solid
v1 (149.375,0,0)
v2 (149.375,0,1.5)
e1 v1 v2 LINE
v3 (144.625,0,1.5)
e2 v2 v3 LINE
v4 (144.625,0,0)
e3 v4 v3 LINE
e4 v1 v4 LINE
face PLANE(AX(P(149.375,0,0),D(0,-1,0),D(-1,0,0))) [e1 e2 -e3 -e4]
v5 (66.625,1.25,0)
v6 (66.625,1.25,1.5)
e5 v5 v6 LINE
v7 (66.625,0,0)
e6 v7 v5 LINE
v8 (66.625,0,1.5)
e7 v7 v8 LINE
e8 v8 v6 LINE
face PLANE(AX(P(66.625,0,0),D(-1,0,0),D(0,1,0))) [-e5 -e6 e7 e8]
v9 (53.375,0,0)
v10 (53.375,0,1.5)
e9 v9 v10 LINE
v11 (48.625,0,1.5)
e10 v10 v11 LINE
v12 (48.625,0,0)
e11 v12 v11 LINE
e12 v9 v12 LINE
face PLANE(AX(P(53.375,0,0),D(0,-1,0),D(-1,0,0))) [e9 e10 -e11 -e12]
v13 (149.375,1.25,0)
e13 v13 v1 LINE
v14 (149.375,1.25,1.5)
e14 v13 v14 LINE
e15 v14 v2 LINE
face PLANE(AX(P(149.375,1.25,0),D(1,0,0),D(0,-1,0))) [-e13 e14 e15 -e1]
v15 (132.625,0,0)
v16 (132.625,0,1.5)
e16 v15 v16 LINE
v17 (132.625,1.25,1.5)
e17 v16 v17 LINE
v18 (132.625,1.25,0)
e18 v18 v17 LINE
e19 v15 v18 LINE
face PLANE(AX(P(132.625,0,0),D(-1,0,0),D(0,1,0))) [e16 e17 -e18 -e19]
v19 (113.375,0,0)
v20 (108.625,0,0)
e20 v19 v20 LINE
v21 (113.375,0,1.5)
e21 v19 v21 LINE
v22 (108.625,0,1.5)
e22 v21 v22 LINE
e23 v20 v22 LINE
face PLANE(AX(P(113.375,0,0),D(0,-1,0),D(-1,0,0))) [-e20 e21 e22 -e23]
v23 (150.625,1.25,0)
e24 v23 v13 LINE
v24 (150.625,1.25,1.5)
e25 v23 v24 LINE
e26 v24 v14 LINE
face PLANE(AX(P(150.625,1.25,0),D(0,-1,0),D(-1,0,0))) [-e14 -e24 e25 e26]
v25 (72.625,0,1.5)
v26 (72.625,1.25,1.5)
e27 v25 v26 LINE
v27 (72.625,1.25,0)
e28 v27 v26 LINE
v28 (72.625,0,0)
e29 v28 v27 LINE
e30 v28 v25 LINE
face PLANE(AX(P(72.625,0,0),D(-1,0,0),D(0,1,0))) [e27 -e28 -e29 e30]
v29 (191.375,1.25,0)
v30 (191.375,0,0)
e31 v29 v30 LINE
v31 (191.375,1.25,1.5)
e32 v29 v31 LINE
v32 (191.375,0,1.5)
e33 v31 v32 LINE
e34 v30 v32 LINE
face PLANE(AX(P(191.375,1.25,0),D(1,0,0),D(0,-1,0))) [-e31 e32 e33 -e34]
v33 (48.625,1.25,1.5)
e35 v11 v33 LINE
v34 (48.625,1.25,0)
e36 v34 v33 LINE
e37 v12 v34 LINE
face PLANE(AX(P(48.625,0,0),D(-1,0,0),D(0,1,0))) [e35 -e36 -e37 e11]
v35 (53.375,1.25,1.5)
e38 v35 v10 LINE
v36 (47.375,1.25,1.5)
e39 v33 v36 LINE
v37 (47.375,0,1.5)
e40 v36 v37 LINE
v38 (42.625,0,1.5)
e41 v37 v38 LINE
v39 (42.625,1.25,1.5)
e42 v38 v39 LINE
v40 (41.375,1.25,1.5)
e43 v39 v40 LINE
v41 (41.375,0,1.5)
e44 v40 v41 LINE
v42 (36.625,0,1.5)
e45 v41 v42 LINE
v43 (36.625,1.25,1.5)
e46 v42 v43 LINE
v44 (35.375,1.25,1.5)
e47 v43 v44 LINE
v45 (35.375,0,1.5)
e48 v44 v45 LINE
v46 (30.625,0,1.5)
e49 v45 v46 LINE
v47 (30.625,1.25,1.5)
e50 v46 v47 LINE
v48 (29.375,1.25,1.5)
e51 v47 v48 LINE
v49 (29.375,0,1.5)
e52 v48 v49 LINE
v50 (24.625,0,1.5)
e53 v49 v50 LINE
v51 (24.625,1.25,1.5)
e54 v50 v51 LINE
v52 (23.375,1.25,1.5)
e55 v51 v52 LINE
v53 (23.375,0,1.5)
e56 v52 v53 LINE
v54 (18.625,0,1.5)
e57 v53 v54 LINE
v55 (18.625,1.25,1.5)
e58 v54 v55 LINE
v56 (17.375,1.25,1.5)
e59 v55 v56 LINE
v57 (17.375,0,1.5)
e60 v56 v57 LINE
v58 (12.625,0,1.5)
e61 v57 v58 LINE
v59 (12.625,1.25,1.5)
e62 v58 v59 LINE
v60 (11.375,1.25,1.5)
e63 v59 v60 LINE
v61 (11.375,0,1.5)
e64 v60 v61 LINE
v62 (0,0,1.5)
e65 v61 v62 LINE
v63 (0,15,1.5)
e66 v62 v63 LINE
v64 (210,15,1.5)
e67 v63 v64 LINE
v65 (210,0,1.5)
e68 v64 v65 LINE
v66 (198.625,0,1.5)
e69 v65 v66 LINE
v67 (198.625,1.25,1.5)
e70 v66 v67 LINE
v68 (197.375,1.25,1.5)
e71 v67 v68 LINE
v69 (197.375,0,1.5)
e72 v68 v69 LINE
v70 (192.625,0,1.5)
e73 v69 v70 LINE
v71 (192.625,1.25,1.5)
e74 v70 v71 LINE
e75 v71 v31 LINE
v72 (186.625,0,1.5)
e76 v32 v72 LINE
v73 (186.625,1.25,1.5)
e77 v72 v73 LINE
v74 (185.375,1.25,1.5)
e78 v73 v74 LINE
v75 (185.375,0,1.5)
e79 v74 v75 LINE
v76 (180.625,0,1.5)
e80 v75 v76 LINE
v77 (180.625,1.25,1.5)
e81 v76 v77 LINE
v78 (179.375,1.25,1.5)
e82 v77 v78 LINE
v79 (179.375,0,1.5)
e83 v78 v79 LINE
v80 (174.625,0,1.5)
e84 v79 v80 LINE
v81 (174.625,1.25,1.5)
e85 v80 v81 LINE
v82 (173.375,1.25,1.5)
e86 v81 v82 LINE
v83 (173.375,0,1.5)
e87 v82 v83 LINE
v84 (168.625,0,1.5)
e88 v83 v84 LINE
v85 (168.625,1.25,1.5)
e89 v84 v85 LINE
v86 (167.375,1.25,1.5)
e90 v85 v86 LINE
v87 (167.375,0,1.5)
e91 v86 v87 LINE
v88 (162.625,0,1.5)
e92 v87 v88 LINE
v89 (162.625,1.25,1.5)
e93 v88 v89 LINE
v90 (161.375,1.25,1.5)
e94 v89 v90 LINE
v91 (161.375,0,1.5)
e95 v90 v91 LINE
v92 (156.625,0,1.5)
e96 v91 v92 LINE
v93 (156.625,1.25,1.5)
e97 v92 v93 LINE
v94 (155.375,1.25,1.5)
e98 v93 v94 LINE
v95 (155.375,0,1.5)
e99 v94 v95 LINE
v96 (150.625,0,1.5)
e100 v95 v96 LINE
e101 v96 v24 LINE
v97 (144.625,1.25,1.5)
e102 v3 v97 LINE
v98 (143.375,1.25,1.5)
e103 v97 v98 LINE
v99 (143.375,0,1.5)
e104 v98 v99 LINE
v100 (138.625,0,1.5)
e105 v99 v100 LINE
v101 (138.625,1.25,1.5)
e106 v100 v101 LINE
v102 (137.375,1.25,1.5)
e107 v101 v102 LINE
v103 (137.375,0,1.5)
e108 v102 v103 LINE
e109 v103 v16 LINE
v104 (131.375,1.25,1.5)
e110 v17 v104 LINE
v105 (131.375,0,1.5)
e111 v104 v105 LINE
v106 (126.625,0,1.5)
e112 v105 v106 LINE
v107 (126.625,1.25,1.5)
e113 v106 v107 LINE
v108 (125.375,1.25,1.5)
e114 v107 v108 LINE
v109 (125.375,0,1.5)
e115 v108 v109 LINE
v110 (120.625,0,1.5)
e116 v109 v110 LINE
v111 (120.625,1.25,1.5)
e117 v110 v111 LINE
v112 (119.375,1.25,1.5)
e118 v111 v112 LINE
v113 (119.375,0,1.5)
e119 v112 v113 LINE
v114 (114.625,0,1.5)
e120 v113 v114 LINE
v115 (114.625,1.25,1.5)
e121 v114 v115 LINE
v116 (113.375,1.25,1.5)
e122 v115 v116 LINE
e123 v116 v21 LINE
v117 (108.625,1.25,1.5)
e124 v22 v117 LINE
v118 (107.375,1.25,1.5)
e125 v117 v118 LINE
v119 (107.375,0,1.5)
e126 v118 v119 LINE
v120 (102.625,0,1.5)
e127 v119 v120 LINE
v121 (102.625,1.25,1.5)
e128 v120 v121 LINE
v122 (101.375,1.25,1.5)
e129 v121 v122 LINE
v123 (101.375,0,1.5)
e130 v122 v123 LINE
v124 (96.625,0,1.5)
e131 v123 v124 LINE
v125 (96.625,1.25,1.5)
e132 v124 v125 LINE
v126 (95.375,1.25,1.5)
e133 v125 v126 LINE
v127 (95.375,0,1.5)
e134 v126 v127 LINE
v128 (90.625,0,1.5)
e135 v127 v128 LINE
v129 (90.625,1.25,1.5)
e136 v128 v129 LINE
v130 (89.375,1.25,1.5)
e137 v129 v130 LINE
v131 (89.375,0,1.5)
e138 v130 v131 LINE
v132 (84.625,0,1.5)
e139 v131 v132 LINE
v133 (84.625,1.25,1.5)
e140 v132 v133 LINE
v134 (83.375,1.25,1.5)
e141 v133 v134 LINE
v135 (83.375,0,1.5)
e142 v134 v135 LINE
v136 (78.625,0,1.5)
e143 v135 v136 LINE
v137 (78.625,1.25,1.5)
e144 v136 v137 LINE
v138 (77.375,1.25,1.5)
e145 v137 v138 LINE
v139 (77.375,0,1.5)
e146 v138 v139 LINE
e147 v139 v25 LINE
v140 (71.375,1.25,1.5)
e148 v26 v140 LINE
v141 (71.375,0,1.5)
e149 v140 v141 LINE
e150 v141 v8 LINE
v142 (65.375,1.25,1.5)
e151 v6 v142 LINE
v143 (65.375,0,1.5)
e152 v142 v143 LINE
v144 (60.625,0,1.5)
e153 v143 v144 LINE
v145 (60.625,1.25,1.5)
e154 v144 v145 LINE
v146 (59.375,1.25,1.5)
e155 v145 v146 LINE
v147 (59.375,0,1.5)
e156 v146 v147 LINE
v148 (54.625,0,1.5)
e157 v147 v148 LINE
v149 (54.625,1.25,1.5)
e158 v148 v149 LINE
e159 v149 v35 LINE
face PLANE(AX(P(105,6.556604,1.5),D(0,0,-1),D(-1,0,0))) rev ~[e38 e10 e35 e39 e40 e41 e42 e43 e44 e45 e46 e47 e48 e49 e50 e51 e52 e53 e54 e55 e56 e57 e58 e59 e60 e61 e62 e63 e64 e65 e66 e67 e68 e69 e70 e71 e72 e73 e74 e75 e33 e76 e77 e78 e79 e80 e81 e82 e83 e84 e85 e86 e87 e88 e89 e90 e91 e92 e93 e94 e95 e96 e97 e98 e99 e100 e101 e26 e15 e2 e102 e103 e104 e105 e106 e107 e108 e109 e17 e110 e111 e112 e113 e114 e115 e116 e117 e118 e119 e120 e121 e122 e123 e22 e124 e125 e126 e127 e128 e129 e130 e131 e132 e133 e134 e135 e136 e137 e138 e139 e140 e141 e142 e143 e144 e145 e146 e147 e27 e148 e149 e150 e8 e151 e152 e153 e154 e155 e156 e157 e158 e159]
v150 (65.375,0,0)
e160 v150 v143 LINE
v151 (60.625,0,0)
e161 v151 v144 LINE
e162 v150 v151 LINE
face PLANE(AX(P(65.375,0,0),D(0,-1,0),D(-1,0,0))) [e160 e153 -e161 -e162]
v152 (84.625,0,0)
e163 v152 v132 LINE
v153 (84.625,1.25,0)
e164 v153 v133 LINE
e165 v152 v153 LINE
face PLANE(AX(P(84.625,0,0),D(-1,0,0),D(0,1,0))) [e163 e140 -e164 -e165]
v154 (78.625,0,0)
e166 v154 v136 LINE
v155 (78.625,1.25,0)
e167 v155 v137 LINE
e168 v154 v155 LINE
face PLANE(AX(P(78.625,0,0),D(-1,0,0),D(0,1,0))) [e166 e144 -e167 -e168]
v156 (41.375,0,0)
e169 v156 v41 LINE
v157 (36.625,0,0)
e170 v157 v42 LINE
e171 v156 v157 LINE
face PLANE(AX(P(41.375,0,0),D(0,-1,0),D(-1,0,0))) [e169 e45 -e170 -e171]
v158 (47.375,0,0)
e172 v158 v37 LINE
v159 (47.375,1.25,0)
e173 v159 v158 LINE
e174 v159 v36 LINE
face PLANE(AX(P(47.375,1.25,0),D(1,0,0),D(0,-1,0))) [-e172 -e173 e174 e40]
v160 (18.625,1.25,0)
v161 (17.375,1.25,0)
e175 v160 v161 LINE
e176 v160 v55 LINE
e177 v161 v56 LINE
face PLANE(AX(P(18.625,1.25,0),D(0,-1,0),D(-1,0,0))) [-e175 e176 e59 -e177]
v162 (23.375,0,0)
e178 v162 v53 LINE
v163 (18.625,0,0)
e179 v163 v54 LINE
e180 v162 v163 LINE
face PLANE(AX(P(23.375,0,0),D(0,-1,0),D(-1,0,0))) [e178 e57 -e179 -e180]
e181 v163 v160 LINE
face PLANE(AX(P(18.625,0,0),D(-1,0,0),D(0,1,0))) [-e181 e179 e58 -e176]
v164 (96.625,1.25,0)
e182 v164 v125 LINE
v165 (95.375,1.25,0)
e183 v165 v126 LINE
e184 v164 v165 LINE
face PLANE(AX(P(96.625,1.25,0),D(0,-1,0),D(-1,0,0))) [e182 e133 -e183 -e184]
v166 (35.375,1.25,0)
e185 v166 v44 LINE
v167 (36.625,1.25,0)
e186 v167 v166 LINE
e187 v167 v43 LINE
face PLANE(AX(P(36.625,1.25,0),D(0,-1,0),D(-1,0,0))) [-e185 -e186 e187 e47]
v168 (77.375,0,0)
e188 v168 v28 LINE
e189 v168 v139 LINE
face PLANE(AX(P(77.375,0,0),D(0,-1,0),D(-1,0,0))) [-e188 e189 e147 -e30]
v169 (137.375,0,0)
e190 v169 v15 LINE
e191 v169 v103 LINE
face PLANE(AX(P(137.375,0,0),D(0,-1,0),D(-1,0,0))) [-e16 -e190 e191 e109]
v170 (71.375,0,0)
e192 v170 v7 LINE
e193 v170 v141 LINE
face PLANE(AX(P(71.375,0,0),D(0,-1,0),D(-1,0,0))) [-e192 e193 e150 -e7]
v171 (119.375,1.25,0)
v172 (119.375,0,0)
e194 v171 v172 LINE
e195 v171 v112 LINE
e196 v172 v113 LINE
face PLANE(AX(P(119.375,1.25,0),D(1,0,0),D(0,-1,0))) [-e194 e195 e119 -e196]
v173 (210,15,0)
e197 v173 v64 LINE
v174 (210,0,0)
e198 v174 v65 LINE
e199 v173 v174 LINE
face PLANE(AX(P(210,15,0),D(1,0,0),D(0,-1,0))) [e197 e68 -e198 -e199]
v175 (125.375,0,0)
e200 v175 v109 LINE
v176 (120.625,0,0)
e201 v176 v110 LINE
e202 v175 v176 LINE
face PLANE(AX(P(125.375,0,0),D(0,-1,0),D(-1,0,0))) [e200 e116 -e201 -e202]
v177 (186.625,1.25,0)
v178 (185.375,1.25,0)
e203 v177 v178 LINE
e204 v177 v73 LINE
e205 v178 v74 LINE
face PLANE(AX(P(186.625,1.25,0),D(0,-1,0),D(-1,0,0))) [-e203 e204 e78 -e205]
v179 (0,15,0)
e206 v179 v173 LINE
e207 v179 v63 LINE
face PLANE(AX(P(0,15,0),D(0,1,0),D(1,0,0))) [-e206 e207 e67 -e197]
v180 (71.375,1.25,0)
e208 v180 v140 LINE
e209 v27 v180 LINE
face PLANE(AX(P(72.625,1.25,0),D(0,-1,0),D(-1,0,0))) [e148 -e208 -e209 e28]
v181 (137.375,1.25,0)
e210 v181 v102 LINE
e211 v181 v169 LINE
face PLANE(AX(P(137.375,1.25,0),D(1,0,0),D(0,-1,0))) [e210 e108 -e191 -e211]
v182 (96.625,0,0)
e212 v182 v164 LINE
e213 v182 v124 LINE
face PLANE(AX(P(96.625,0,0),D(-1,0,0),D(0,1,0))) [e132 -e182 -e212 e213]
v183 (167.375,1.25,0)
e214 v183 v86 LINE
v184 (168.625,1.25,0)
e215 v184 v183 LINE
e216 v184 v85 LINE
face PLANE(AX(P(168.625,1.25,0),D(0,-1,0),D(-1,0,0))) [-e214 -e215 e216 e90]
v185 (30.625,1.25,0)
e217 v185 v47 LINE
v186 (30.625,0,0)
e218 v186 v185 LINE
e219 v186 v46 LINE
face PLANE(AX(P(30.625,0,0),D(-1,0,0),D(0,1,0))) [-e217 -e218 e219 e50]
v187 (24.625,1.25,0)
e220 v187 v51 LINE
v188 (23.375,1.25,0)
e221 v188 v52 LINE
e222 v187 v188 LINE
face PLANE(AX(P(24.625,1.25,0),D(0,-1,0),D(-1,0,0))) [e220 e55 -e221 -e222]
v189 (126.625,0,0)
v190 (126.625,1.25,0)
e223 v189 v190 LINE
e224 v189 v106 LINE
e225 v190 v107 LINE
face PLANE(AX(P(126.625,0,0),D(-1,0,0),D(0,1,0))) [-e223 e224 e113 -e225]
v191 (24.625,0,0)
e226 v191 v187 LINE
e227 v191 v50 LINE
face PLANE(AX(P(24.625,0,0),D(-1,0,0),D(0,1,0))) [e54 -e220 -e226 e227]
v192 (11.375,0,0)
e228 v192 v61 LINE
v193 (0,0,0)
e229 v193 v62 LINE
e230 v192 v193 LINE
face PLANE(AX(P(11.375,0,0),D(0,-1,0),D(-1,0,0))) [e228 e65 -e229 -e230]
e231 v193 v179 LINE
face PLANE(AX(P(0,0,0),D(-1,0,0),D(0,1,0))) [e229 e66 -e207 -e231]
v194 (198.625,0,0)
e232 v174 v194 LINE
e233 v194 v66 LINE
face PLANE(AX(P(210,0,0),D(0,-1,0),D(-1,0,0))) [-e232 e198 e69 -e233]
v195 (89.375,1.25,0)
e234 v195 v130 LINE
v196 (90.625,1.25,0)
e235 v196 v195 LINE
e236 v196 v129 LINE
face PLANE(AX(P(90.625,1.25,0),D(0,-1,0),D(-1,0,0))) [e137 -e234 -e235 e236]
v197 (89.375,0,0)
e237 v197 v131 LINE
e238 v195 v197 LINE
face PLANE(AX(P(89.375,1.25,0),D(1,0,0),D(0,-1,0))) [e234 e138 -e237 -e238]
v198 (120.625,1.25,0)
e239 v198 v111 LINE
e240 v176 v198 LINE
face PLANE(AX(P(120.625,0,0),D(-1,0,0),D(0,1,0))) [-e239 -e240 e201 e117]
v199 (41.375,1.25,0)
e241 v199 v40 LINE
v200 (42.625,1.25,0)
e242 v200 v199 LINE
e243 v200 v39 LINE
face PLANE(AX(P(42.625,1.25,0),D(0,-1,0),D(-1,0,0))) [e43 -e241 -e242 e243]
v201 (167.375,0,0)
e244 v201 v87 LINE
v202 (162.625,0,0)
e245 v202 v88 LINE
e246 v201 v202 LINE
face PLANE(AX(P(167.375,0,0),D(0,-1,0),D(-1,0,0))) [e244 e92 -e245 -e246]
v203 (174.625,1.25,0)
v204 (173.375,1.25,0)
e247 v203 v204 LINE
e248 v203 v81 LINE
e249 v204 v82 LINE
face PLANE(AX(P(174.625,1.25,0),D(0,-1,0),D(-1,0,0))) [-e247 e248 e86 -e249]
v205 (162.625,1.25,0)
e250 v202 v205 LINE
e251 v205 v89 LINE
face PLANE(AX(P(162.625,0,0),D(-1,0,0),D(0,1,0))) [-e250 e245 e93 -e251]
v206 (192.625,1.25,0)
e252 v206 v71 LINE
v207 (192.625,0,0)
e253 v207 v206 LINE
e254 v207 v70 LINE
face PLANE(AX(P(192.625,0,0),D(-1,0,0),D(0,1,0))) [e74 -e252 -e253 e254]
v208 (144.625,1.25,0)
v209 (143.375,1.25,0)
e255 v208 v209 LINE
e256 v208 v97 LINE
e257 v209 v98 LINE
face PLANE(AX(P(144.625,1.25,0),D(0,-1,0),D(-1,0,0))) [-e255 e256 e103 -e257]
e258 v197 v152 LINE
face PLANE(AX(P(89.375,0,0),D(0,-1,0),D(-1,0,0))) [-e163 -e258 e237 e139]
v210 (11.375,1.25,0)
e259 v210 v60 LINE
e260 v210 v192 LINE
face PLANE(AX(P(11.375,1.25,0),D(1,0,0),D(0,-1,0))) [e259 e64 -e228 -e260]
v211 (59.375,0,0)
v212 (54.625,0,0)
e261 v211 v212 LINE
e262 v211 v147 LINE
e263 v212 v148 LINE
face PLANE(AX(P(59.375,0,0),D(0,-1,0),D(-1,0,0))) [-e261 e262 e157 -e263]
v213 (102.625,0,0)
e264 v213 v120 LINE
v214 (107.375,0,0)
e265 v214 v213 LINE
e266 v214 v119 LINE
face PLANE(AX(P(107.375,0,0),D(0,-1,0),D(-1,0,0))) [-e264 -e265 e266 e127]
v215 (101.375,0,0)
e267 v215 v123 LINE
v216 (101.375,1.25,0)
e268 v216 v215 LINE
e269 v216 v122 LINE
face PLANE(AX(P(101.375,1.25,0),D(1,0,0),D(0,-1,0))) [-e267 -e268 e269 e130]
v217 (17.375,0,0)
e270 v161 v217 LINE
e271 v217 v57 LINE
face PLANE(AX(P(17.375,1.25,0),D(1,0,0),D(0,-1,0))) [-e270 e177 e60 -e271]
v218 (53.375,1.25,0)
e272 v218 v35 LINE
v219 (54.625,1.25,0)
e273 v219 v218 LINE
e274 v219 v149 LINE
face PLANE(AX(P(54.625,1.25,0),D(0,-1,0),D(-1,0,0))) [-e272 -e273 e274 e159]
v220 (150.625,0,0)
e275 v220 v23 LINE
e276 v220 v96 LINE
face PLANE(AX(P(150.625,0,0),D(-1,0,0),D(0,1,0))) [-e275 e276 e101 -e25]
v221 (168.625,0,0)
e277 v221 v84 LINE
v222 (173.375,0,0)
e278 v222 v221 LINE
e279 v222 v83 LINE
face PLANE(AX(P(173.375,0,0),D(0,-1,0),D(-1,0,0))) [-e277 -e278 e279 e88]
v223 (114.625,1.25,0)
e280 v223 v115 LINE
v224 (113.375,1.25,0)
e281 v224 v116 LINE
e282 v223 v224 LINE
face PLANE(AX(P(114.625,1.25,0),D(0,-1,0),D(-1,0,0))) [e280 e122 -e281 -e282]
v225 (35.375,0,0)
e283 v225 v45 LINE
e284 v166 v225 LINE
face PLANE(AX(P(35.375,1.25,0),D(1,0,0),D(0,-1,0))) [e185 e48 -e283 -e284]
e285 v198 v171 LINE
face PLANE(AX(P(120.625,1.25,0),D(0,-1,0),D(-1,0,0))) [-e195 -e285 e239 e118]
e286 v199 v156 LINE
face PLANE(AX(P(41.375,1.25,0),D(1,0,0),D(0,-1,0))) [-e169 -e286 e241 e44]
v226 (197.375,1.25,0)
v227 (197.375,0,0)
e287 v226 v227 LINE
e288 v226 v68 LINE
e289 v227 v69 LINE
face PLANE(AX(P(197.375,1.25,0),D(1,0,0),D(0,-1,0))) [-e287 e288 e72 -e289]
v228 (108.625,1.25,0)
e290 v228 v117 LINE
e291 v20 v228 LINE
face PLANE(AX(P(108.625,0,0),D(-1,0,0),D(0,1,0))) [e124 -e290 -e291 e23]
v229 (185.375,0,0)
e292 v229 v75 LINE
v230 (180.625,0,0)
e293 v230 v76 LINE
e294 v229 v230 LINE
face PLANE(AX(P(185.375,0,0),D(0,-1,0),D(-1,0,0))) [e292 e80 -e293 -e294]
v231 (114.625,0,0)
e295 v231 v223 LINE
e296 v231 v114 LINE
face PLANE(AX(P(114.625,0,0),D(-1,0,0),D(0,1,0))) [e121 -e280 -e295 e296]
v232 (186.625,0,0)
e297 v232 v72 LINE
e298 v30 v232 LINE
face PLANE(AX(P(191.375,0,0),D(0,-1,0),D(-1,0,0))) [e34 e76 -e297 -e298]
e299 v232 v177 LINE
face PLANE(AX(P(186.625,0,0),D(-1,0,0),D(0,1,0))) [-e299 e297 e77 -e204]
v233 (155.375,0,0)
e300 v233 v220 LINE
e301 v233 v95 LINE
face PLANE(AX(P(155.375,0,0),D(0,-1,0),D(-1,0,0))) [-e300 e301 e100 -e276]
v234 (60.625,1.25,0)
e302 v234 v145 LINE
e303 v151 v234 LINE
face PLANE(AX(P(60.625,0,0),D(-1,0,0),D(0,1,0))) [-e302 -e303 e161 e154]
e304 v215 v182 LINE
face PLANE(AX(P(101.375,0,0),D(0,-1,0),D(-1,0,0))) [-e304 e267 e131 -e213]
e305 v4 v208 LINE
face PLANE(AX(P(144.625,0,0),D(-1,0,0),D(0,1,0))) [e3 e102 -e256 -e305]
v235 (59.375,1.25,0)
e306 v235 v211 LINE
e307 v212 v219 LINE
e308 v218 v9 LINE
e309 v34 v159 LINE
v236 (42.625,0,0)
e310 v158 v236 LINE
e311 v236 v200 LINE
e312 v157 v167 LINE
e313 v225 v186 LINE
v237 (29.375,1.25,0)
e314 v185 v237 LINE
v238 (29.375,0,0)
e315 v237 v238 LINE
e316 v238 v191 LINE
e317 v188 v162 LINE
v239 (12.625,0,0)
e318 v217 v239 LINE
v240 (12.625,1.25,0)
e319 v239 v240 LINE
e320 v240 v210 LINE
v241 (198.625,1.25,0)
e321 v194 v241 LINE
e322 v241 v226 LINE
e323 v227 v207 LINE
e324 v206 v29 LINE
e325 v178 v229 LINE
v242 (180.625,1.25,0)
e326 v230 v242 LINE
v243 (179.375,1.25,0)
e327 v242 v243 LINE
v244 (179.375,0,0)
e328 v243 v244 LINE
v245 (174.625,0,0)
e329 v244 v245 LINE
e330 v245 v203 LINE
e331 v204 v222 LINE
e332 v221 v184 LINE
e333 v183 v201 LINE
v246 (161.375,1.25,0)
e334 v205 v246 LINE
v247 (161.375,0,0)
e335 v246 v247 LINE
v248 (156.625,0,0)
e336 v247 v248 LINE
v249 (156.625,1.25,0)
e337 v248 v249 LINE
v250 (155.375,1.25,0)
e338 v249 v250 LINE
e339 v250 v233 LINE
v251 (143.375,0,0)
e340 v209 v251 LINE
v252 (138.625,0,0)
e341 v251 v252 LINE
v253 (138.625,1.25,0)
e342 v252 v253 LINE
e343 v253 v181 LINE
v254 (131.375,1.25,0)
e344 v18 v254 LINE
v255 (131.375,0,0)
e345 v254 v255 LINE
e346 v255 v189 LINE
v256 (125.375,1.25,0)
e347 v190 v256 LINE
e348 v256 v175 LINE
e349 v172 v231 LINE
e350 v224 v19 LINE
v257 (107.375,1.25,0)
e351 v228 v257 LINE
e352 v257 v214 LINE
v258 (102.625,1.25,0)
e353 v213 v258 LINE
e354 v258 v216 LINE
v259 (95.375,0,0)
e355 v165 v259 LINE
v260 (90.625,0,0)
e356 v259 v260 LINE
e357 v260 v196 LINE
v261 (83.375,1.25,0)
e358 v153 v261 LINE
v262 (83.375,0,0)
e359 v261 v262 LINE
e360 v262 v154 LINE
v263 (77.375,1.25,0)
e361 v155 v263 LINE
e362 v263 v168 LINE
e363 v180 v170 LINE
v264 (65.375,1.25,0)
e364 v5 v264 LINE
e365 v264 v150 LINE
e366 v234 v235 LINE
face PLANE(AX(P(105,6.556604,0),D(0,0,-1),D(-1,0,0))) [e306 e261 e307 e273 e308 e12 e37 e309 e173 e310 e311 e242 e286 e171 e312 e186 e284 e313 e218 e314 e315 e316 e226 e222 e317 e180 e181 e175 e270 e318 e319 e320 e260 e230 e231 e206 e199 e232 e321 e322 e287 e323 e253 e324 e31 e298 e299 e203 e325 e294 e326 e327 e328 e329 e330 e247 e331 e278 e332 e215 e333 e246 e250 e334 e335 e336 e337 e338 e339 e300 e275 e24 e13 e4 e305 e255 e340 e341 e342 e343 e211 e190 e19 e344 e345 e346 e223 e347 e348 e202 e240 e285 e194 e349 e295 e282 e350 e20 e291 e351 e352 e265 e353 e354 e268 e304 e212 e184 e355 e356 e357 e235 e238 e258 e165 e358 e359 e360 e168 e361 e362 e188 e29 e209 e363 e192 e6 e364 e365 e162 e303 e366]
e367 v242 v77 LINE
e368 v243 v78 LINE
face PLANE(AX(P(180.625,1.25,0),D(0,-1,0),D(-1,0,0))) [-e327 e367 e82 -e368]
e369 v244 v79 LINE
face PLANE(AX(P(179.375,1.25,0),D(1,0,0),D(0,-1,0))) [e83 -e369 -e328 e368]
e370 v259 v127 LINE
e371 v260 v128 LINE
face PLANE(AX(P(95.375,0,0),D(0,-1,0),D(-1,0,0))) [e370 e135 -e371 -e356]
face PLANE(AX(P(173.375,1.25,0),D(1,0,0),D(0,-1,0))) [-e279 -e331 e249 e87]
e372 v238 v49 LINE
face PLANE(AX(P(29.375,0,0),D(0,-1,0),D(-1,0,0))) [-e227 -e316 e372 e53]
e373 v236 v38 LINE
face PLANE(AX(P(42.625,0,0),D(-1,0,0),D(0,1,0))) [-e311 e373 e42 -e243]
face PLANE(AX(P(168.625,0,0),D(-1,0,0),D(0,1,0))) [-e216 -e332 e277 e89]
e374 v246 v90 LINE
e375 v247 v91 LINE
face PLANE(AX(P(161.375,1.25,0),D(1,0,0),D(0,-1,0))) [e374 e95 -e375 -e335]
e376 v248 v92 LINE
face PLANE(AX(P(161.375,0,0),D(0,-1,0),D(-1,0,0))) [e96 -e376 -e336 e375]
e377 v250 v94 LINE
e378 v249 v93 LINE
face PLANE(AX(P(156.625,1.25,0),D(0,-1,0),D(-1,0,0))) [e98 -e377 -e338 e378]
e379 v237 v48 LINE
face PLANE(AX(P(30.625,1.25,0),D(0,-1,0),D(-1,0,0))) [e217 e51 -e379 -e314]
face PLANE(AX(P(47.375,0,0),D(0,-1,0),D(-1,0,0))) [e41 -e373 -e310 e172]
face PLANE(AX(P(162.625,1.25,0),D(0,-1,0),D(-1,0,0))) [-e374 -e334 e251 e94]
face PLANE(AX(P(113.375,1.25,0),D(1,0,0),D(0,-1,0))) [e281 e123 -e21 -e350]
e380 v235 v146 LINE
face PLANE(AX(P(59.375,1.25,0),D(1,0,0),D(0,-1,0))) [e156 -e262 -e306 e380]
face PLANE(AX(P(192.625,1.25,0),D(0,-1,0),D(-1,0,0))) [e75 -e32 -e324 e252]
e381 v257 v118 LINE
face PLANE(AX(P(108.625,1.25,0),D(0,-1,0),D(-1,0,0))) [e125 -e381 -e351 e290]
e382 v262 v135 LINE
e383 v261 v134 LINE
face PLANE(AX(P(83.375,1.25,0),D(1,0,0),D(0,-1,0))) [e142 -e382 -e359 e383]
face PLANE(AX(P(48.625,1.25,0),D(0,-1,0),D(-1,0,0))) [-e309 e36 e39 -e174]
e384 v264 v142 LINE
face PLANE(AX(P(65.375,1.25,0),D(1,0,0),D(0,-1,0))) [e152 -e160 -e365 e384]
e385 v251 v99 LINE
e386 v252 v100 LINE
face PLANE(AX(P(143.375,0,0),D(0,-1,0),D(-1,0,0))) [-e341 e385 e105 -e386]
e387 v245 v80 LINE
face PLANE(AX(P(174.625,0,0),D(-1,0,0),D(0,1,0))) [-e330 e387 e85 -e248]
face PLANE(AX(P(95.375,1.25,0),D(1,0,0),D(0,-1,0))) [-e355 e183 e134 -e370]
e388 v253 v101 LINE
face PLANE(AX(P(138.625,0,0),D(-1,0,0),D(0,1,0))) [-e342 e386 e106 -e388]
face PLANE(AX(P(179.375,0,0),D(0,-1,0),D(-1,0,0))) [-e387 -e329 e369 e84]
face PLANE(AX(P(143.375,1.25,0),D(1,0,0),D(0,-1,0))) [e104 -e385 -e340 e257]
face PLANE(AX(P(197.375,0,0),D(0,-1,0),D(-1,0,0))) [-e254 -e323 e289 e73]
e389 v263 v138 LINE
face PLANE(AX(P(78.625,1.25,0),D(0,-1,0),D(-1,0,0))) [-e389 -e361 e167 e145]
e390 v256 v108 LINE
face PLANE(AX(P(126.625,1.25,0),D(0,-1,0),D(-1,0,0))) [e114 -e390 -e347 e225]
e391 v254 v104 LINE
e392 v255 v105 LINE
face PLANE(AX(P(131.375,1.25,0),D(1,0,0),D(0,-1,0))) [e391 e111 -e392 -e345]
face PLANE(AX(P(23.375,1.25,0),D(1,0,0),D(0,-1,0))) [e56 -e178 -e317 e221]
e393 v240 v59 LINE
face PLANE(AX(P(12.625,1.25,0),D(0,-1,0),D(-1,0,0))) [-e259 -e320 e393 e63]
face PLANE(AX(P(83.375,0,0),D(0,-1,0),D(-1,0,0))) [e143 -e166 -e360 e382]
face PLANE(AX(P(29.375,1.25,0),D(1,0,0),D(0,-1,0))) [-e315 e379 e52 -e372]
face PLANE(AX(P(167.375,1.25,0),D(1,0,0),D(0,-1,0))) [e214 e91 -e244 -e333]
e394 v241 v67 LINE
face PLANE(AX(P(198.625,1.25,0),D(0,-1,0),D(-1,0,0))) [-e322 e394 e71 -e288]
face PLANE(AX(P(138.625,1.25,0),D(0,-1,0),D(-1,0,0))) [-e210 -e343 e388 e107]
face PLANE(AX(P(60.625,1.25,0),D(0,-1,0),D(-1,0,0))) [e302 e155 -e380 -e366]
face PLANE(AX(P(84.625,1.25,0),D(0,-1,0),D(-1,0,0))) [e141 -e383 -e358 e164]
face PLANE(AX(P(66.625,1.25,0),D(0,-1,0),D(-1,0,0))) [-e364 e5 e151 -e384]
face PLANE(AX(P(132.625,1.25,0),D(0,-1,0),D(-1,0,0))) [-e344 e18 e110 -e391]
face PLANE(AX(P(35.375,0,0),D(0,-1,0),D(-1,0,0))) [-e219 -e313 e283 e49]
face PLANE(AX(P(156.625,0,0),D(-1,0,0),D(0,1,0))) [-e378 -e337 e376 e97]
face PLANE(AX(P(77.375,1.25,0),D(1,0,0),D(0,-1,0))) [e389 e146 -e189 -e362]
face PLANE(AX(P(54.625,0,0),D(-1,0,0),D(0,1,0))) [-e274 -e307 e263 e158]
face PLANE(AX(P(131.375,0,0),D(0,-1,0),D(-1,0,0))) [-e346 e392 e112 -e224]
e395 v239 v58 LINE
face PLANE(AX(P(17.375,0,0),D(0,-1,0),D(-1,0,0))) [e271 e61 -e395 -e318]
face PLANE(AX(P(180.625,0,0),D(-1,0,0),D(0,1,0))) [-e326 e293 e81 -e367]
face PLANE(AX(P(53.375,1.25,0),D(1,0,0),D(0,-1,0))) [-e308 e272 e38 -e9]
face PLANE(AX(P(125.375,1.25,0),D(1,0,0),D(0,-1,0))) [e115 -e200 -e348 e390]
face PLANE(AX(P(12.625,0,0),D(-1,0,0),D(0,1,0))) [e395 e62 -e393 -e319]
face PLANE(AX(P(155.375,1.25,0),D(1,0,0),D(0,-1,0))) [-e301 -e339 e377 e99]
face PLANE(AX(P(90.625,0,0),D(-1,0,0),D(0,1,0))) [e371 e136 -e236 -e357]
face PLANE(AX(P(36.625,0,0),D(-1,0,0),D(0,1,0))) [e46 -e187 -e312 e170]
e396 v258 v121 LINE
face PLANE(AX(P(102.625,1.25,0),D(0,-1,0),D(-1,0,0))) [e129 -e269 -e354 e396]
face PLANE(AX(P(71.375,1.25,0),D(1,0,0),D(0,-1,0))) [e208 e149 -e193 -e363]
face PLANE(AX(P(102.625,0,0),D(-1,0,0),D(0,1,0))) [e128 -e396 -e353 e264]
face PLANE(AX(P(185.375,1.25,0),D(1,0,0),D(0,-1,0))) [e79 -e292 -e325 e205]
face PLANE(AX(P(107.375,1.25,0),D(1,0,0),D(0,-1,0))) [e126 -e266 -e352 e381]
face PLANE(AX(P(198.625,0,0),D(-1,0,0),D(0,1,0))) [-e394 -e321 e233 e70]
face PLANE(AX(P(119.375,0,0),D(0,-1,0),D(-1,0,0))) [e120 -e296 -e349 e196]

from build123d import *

# Parameters (mm, degrees)
BOSS_EXTRUDE1_DEPTH = 1.5


with BuildPart() as part:
    # Sketch1 → Boss-Extrude1 (new body)
    with BuildSketch(Plane.XY):
        Polygon((0, 0), (0, 15), (210, 15), (210, 0), (198.625, 0), (198.625, 1.25), (197.375, 1.25), (197.375, 0), (192.625, 0), (192.625, 1.25), (191.375, 1.25), (191.375, 0), (186.625, 0), (186.625, 1.25), (185.375, 1.25), (185.375, 0), (180.625, 0), (180.625, 1.25), (179.375, 1.25), (179.375, 0), (174.625, 0), (174.625, 1.25), (173.375, 1.25), (173.375, 0), (168.625, 0), (168.625, 1.25), (167.375, 1.25), (167.375, 0), (162.625, 0), (162.625, 1.25), (161.375, 1.25), (161.375, 0), (156.625, 0), (156.625, 1.25), (155.375, 1.25), (155.375, 0), (150.625, 0), (150.625, 1.25), (149.375, 1.25), (149.375, 0), (144.625, 0), (144.625, 1.25), (143.375, 1.25), (143.375, 0), (138.625, 0), (138.625, 1.25), (137.375, 1.25), (137.375, 0), (132.625, 0), (132.625, 1.25), (131.375, 1.25), (131.375, 0), (126.625, 0), (126.625, 1.25), (125.375, 1.25), (125.375, 0), (120.625, 0), (120.625, 1.25), (119.375, 1.25), (119.375, 0), (114.625, 0), (114.625, 1.25), (113.375, 1.25), (113.375, 0), (108.625, 0), (108.625, 1.25), (107.375, 1.25), (107.375, 0), (102.625, 0), (102.625, 1.25), (101.375, 1.25), (101.375, 0), (96.625, 0), (96.625, 1.25), (95.375, 1.25), (95.375, 0), (90.625, 0), (90.625, 1.25), (89.375, 1.25), (89.375, 0), (84.625, 0), (84.625, 1.25), (83.375, 1.25), (83.375, 0), (78.625, 0), (78.625, 1.25), (77.375, 1.25), (77.375, 0), (72.625, 0), (72.625, 1.25), (71.375, 1.25), (71.375, 0), (66.625, 0), (66.625, 1.25), (65.375, 1.25), (65.375, 0), (60.625, 0), (60.625, 1.25), (59.375, 1.25), (59.375, 0), (54.625, 0), (54.625, 1.25), (53.375, 1.25), (53.375, 0), (48.625, 0), (48.625, 1.25), (47.375, 1.25), (47.375, 0), (42.625, 0), (42.625, 1.25), (41.375, 1.25), (41.375, 0), (36.625, 0), (36.625, 1.25), (35.375, 1.25), (35.375, 0), (30.625, 0), (30.625, 1.25), (29.375, 1.25), (29.375, 0), (24.625, 0), (24.625, 1.25), (23.375, 1.25), (23.375, 0), (18.625, 0), (18.625, 1.25), (17.375, 1.25), (17.375, 0), (12.625, 0), (12.625, 1.25), (11.375, 1.25), (11.375, 0), align=None)
    extrude(amount=BOSS_EXTRUDE1_DEPTH)


solid = part.part
